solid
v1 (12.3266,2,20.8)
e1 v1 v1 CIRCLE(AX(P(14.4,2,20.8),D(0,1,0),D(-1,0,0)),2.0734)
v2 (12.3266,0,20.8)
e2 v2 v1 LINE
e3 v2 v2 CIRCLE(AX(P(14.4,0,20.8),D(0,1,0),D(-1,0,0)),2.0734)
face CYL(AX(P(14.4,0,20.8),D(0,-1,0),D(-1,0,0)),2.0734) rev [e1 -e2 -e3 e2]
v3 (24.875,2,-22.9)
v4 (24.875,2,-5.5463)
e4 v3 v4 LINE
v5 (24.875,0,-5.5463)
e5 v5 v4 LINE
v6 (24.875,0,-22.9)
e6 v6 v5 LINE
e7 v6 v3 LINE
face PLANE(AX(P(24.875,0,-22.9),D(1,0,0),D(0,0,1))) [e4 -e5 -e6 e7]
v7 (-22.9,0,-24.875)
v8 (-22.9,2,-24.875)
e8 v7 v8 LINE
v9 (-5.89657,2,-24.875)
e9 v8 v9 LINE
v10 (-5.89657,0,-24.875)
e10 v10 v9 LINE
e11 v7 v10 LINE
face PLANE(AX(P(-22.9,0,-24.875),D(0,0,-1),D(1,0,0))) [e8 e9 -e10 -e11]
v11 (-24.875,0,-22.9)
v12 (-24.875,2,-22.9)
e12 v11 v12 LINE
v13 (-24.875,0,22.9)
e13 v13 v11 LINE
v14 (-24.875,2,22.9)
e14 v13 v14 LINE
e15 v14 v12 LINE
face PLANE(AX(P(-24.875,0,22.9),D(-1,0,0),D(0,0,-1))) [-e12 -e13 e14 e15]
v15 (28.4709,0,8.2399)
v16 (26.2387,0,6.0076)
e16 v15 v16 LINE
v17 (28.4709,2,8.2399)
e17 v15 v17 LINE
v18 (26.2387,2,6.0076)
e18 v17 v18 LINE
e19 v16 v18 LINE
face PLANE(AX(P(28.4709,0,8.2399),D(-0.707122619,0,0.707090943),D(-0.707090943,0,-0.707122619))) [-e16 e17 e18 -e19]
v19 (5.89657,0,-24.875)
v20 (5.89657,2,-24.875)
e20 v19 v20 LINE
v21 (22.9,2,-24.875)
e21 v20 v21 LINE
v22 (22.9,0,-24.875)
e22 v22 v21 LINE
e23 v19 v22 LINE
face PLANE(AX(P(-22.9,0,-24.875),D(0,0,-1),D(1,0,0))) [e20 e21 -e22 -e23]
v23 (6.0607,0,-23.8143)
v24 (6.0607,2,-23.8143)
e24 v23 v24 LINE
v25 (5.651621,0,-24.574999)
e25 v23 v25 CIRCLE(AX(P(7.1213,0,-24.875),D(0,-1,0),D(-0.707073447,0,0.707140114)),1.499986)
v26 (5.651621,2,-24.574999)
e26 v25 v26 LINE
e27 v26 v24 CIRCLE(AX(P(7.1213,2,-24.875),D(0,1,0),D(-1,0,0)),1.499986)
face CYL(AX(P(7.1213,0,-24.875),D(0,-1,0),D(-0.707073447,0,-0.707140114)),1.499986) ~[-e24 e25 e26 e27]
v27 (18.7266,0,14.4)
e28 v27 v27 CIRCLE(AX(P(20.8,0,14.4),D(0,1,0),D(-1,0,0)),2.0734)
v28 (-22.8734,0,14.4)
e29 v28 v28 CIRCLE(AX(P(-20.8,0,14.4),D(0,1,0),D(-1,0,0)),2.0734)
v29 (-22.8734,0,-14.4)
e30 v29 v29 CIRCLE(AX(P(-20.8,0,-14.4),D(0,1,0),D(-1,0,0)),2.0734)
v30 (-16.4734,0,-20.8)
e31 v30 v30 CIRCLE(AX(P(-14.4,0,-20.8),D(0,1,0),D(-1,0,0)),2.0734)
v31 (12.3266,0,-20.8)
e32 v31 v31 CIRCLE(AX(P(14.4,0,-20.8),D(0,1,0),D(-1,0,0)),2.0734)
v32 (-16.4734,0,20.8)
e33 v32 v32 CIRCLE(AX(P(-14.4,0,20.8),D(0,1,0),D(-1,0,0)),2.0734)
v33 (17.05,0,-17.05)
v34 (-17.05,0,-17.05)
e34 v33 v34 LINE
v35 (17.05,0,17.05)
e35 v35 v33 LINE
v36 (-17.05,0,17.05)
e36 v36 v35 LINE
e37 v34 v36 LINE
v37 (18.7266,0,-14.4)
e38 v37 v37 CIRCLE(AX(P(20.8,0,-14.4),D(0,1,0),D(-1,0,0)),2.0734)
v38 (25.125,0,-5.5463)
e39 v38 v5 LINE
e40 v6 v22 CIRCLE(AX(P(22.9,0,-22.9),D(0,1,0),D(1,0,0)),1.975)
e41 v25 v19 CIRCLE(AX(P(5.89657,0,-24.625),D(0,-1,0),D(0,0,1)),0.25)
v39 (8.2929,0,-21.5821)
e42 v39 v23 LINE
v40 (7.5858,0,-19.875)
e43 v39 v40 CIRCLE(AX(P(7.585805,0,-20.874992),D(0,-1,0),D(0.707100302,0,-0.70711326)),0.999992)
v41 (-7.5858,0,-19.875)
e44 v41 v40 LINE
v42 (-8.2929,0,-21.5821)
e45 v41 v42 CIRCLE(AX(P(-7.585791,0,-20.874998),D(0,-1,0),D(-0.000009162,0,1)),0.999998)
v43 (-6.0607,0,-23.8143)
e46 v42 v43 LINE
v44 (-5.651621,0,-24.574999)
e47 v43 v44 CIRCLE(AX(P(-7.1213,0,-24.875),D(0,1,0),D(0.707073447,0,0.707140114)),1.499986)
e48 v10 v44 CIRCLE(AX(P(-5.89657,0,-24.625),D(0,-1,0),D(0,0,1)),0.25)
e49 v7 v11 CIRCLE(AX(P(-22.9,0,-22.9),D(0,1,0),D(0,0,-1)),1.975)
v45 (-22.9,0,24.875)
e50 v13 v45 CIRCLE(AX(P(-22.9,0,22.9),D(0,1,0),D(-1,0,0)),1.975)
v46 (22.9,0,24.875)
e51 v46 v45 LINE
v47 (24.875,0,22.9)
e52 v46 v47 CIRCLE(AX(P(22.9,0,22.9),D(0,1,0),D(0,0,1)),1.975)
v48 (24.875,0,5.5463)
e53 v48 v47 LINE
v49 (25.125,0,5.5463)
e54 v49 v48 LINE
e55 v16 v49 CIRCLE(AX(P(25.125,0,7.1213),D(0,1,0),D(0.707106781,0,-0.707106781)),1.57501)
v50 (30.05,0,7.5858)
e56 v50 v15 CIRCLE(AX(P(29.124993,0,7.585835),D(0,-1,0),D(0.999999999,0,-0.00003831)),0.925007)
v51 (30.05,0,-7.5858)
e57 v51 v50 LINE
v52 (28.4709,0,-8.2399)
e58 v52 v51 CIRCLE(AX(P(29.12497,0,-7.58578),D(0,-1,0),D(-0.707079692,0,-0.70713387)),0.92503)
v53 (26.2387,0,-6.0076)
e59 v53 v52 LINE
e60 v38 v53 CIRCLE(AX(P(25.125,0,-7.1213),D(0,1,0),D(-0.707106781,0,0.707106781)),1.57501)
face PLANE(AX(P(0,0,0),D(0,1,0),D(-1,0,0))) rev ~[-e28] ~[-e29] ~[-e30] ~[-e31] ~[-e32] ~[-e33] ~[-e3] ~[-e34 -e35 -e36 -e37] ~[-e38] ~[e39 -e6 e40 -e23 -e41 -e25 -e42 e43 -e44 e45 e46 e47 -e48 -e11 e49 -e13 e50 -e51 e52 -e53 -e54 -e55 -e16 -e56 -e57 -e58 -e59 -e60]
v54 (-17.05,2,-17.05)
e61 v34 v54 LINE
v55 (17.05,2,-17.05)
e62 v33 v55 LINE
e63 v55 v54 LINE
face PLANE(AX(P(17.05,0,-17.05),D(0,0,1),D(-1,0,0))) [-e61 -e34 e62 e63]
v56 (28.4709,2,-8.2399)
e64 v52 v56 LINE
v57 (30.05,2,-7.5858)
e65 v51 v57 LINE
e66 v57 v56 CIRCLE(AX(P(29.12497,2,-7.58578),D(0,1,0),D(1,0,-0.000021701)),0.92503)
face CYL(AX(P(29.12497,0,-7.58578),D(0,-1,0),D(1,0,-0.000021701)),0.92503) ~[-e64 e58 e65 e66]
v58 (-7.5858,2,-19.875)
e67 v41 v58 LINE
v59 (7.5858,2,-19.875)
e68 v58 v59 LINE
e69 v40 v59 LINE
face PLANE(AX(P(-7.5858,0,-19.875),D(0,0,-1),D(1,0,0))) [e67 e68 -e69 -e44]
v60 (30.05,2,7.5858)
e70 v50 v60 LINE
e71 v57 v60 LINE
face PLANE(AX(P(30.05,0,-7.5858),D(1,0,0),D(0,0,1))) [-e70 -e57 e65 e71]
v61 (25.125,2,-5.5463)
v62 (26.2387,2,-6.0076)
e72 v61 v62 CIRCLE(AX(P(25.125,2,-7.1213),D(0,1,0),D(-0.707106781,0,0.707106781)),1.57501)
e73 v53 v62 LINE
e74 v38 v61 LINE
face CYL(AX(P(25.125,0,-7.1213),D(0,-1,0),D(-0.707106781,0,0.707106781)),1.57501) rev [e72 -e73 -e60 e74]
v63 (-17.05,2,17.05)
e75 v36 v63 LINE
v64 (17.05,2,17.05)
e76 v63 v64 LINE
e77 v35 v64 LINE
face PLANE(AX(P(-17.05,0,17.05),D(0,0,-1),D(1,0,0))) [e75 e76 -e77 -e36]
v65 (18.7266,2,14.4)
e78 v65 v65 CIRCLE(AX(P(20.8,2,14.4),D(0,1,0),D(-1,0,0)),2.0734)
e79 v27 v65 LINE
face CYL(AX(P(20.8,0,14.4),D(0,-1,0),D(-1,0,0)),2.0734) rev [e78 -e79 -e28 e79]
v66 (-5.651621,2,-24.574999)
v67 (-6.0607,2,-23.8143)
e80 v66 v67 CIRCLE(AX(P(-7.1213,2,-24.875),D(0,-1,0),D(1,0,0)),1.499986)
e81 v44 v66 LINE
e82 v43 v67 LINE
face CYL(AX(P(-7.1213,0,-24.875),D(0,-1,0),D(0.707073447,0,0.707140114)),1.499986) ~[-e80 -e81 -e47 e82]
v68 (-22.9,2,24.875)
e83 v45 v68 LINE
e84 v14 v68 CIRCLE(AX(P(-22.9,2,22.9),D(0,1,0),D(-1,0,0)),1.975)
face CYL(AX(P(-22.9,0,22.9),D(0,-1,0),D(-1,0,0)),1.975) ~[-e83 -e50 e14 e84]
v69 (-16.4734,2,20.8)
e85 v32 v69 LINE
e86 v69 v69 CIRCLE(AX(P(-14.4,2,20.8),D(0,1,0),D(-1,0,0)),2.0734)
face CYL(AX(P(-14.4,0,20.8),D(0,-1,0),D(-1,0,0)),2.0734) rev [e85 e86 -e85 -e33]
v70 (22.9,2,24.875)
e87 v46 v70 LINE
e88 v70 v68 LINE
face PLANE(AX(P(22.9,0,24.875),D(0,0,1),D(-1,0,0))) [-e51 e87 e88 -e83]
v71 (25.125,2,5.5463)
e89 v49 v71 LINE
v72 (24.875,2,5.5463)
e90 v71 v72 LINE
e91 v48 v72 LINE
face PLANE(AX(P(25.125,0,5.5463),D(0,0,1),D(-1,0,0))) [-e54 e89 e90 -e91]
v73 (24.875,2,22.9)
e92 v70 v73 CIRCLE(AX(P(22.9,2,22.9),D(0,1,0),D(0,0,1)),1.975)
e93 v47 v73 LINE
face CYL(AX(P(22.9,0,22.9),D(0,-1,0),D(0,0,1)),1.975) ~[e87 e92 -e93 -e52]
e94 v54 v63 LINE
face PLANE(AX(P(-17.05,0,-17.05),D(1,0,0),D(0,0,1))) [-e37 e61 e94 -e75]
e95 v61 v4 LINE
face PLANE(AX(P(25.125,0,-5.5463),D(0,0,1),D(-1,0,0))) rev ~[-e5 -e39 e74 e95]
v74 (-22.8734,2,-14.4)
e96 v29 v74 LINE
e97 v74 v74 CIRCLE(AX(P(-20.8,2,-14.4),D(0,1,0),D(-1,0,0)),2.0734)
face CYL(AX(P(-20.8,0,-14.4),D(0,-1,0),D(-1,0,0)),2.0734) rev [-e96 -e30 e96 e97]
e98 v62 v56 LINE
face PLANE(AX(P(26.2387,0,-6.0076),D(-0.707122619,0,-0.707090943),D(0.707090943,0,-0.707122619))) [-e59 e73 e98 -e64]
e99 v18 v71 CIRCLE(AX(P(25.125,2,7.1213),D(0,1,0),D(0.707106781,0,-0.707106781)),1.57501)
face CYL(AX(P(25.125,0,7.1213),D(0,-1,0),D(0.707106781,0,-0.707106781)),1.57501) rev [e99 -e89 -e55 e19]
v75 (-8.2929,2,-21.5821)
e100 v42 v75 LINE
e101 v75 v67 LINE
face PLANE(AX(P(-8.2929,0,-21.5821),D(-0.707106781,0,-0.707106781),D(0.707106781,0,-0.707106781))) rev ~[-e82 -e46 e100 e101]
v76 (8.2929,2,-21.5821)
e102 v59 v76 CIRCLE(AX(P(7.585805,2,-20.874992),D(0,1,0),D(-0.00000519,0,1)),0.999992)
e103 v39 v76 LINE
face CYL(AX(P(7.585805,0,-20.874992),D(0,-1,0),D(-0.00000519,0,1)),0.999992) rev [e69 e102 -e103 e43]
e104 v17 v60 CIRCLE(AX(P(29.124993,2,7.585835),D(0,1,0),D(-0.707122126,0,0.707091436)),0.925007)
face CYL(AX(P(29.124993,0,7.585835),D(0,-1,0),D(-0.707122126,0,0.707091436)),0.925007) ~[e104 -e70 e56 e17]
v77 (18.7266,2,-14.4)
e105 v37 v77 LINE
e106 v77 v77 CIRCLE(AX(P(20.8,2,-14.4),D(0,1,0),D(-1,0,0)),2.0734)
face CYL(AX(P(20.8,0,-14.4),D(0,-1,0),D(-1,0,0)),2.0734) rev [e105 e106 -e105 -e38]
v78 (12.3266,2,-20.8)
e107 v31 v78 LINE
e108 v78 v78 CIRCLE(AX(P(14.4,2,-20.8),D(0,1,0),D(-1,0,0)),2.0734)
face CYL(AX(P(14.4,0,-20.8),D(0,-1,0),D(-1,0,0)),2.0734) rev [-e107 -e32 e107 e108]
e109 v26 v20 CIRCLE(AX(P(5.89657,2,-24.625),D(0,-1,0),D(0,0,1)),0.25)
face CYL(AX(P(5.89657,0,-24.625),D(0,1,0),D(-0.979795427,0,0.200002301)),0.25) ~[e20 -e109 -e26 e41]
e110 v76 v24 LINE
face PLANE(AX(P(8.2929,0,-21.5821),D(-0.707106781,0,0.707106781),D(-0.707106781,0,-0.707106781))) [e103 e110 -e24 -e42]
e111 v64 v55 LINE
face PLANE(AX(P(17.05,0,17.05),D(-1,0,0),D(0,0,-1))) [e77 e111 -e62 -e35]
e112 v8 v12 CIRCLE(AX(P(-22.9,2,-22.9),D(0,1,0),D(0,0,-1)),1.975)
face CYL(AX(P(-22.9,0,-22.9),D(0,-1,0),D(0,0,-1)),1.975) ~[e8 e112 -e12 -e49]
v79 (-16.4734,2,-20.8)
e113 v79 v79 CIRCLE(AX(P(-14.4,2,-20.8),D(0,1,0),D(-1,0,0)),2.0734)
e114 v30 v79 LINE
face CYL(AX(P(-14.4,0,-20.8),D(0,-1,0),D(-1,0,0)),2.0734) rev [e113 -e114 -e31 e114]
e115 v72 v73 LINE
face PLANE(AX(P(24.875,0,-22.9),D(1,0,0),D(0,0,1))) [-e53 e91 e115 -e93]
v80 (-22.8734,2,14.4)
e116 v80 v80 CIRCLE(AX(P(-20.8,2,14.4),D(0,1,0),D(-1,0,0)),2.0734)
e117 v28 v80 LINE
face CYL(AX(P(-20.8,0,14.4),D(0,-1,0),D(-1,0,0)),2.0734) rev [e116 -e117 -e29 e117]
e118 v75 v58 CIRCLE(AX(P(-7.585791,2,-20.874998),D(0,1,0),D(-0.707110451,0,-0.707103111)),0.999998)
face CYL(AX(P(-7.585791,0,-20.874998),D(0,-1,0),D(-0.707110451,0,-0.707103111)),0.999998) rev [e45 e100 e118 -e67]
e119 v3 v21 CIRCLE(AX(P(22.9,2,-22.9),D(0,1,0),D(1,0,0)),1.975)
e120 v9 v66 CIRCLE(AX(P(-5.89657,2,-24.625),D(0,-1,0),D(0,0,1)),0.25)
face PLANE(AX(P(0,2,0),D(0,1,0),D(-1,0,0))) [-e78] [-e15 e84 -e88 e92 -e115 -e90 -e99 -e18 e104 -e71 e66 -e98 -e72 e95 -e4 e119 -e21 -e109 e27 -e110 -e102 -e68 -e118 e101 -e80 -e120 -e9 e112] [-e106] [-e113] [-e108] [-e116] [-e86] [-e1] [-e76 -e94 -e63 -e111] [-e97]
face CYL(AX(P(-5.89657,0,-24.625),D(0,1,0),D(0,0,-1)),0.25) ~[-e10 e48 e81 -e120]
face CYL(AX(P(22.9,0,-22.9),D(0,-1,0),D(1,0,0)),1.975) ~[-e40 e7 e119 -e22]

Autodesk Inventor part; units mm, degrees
ref_plane "YZ Plane" through (0, 0, 0) normal (1, 0, 0) x (0, 1, 0)
ref_plane "XZ Plane" through (0, 0, 0) normal (0, 1, 0) x (-1, 0, 0)
ref_plane "XY Plane" through (0, 0, 0) normal (0, 0, 1) x (1, 0, 0)
sketch "Sketch1" plane through (0, 0, 0) normal (0, 1, 0) x (-1, 0, 0)
  circle A0 centre (-21.9, -21.9) radius 1.875 projected
  circle A1 centre (21.9, 21.9) radius 1.875 projected
  circle A2 centre (21.9, -21.9) radius 1.875 projected
  circle A3 centre (-21.9, 21.9) radius 1.875 projected
  circle A4 centre (14.4, 20.8) radius 2.0734 projected
  circle A5 centre (-14.4, -20.8) radius 2.0734 projected
  circle A6 centre (14.4, -20.8) radius 2.0734 projected
  circle A7 centre (20.8, -14.4) radius 2.0734 projected
  line L0 (-17.05, 17.05) -> (-17.05, -17.05) projected
  line L1 (17.05, 17.05) -> (-17.05, 17.05) projected
  line L2 (17.05, -17.05) -> (17.05, 17.05) projected
  line L3 (-17.05, -17.05) -> (17.05, -17.05) projected
  circle A8 centre (20.8, 14.4) radius 2.0734 projected
  circle A9 centre (-14.4, 20.8) radius 2.0734 projected
  circle A10 centre (-20.8, -14.4) radius 2.0734 projected
  circle A11 centre (-20.8, 14.4) radius 2.0734 projected
  line L4 (-22.9, 24.875) -> (22.9, 24.875) projected
  arc A12 (-22.9, 24.875) -> (-24.875, 22.9) centre (-22.9, 22.9) ccw projected
  line L5 (-24.875, -22.9) -> (-24.875, 22.9) projected
  arc A13 (-24.875, -22.9) -> (-22.9, -24.875) centre (-22.9, -22.9) ccw projected
  line L6 (22.9, -24.875) -> (-22.9, -24.875) projected
  arc A14 (22.9, -24.875) -> (24.875, -22.9) centre (22.9, -22.9) ccw projected
  line L7 (24.875, 22.9) -> (24.875, -22.9) projected
  arc A15 (24.875, 22.9) -> (22.9, 24.875) centre (22.9, 22.9) ccw projected
  arc A16 (24.9, 22.9) -> (22.9, 24.9) centre (22.9, 22.9) ccw projected
  line L8 (22.9, 24.9) -> (-22.9, 24.9) projected
  arc A17 (-22.9, 24.9) -> (-24.9, 22.9) centre (-22.9, 22.9) ccw projected
  line L9 (-24.9, 22.9) -> (-24.9, -22.9) projected
  arc A18 (-24.9, -22.9) -> (-22.9, -24.9) centre (-22.9, -22.9) ccw projected
  line L10 (-22.9, -24.9) -> (22.9, -24.9) projected
  arc A19 (22.9, -24.9) -> (24.9, -22.9) centre (22.9, -22.9) ccw projected
  line L11 (24.9, -22.9) -> (24.9, 22.9) projected
  point P0 (0, 0)
extrude "Extrusion1" add sketch "Sketch1" along normal blind 2 contours A0 | A1 | A2 | A3 | L4 A15 L7 A14 L6 A13 L5 A12
sketch "Sketch2" plane through (0, 0, 0) normal (0, 1, 0) x (-1, 0, 0)
  line L0 (-7.5858, -29.875) -> (7.5858, -29.875)
  line L1 (10, -29.875) -> (10, -19.875)
  line L2 (7.5858, -19.875) -> (-7.5858, -19.875)
  line L3 (-10, -19.875) -> (-10, -29.875)
  line L4 (-10, -29.875) -> (10, -19.875) construction
  line L5 (10, -29.875) -> (-10, -19.875) construction
  line L6 (-8.2929, -21.5821) -> (-6.0607, -23.8143)
  line L7 (-10, -19.875) -> (-6.8431, -19.875) construction
  line L8 (8.2929, -21.5821) -> (6.0607, -23.8143)
  line L9 (-8.2929, -28.1679) -> (-6.0607, -25.9357)
  line L10 (8.2929, -28.1679) -> (6.0607, -25.9357)
  arc A0 (-8.2929, -28.1679) -> (-7.5858, -29.875) centre (-7.5858, -28.875) ccw
  arc A1 (7.5858, -29.875) -> (8.2929, -28.1679) centre (7.5858, -28.875) ccw
  arc A2 (-6.0607, -25.9357) -> (-6.0607, -23.8143) centre (-7.1213, -24.875) ccw
  arc A3 (6.0607, -23.8143) -> (6.0607, -25.9357) centre (7.1213, -24.875) ccw
  arc A4 (-7.5858, -19.875) -> (-8.2929, -21.5821) centre (-7.5858, -20.875) ccw
  arc A5 (8.2929, -21.5821) -> (7.5858, -19.875) centre (7.5858, -20.875) ccw
  line L11 (-7.5858, -19.95) -> (7.5858, -19.95)
  arc A6 (8.2399, -21.5291) -> (7.5858, -19.95) centre (7.5858, -20.875) ccw
  line L12 (8.2399, -21.5291) -> (6.0076, -23.7613)
  arc A7 (6.0076, -23.7613) -> (6.0076, -25.9887) centre (7.1213, -24.875) ccw
  line L13 (6.0076, -25.9887) -> (8.2399, -28.2209)
  arc A8 (7.5858, -29.8) -> (8.2399, -28.2209) centre (7.5858, -28.875) ccw
  line L14 (7.5858, -29.8) -> (-7.5858, -29.8)
  arc A9 (-8.2399, -28.2209) -> (-7.5858, -29.8) centre (-7.5858, -28.875) ccw
  line L15 (-8.2399, -28.2209) -> (-6.0076, -25.9887)
  arc A10 (-6.0076, -25.9887) -> (-6.0076, -23.7613) centre (-7.1213, -24.875) ccw
  line L16 (-6.0076, -23.7613) -> (-8.2399, -21.5291)
  arc A11 (-7.5858, -19.95) -> (-8.2399, -21.5291) centre (-7.5858, -20.875) ccw
  line L17 (-8.2399, 21.7791) -> (-6.0076, 24.0113)
  line L18 (-7.5858, 30.05) -> (7.5858, 30.05)
  line L19 (7.5858, 20.2) -> (-7.5858, 20.2)
  line L20 (-7.5858, 20.125) -> (7.5858, 20.125)
  line L21 (7.5858, 30.125) -> (-7.5858, 30.125)
  line L22 (10, 20.125) -> (-10, 30.125) construction
  line L23 (-10, 20.125) -> (10, 30.125) construction
  arc A12 (-6.0076, 24.0113) -> (-6.0076, 26.2387) centre (-7.1213, 25.125) ccw
  arc A13 (-6.0607, 24.0643) -> (-6.0607, 26.1857) centre (-7.1213, 25.125) ccw
  arc A14 (-7.5858, 30.05) -> (-8.2399, 28.4709) centre (-7.5858, 29.125) ccw
  arc A15 (-7.5858, 30.125) -> (-8.2929, 28.4179) centre (-7.5858, 29.125) ccw
  line L24 (-8.2929, 28.4179) -> (-6.0607, 26.1857)
  line L25 (-10, 30.125) -> (-6.8431, 30.125) construction
  line L26 (-10, 30.125) -> (-10, 20.125)
  arc A16 (-8.2399, 21.7791) -> (-7.5858, 20.2) centre (-7.5858, 21.125) ccw
  arc A17 (-8.2929, 21.8321) -> (-7.5858, 20.125) centre (-7.5858, 21.125) ccw
  line L27 (-8.2929, 21.8321) -> (-6.0607, 24.0643)
  line L28 (-6.0076, 26.2387) -> (-8.2399, 28.4709)
  line L29 (10, 20.125) -> (10, 30.125)
  line L30 (8.2929, 28.4179) -> (6.0607, 26.1857)
  line L31 (8.2929, 21.8321) -> (6.0607, 24.0643)
  arc A18 (7.5858, 20.125) -> (8.2929, 21.8321) centre (7.5858, 21.125) ccw
  arc A19 (6.0076, 26.2387) -> (6.0076, 24.0113) centre (7.1213, 25.125) ccw
  arc A20 (6.0607, 26.1857) -> (6.0607, 24.0643) centre (7.1213, 25.125) ccw
  arc A21 (7.5858, 20.2) -> (8.2399, 21.7791) centre (7.5858, 21.125) ccw
  line L32 (6.0076, 24.0113) -> (8.2399, 21.7791)
  line L33 (8.2399, 28.4709) -> (6.0076, 26.2387)
  arc A22 (8.2929, 28.4179) -> (7.5858, 30.125) centre (7.5858, 29.125) ccw
  arc A23 (8.2399, 28.4709) -> (7.5858, 30.05) centre (7.5858, 29.125) ccw
  line L34 (0, 24.875) -> (0, 25.125)
  line L35 (-22.9, -24.875) -> (22.9, -24.875) projected
  line L36 (22.9, 24.875) -> (-22.9, 24.875) projected
  line L37 (0, -24.875) -> (0, -24.875)
  line L38 (5.6213, 25.125) -> (5.5463, 25.125)
  line L39 (5.5463, 25.125) -> (5.5463, 24.875)
  line L40 (5.5463, 24.875) -> (5.6213, 24.875)
  line L41 (5.6213, 24.875) -> (5.6213, 25.125)
  line L42 (-5.6213, 25.125) -> (-5.5463, 25.125)
  line L43 (-5.5463, 25.125) -> (-5.5463, 24.875)
  line L44 (-5.5463, 24.875) -> (-5.6213, 24.875)
  line L45 (-5.6213, 24.875) -> (-5.6213, 25.125)
  line L46 (-5.6213, -24.875) -> (-5.5463, -24.875)
  line L47 (-5.5463, -24.875) -> (-5.5463, -24.875)
  line L48 (-5.5463, -24.875) -> (-5.6213, -24.875)
  line L49 (-5.6213, -24.875) -> (-5.6213, -24.875)
  line L50 (5.6213, -24.875) -> (5.5463, -24.875)
  line L51 (5.5463, -24.875) -> (5.5463, -24.875)
  line L52 (5.5463, -24.875) -> (5.6213, -24.875)
  line L53 (5.6213, -24.875) -> (5.6213, -24.875)
  arc A24 (19.95, -7.5858) -> (21.5291, -8.2399) centre (20.875, -7.5858) ccw
  arc A25 (19.875, -7.5858) -> (21.5821, -8.2929) centre (20.875, -7.5858) ccw
  line L54 (21.5821, -8.2929) -> (23.8143, -6.0607)
  line L55 (23.7613, -6.0076) -> (21.5291, -8.2399)
  arc A26 (25.9357, -6.0607) -> (23.8143, -6.0607) centre (24.875, -7.1213) ccw
  arc A27 (25.9887, -6.0076) -> (23.7613, -6.0076) centre (24.875, -7.1213) ccw
  line L56 (29.875, -7.5858) -> (29.875, 7.5858)
  line L57 (29.8, 7.5858) -> (29.8, -7.5858)
  line L58 (19.95, -7.5858) -> (19.95, 7.5858)
  line L59 (19.875, 7.5858) -> (19.875, -7.5858)
  line L60 (28.2209, -8.2399) -> (25.9887, -6.0076)
  line L61 (21.5821, 8.2929) -> (23.8143, 6.0607)
  line L62 (28.1679, 8.2929) -> (25.9357, 6.0607)
  arc A28 (29.875, 7.5858) -> (28.1679, 8.2929) centre (28.875, 7.5858) ccw
  arc A29 (23.7613, 6.0076) -> (25.9887, 6.0076) centre (24.875, 7.1213) ccw
  line L63 (24.875, 5.5463) -> (24.875, 5.5463)
  line L64 (24.875, 5.6213) -> (24.875, 5.5463)
  line L65 (24.875, 5.5463) -> (24.875, 5.6213)
  line L66 (24.875, 5.6213) -> (24.875, 5.6213)
  arc A30 (23.8143, 6.0607) -> (25.9357, 6.0607) centre (24.875, 7.1213) ccw
  line L67 (25.9887, 6.0076) -> (28.2209, 8.2399)
  arc A31 (29.8, 7.5858) -> (28.2209, 8.2399) centre (28.875, 7.5858) ccw
  line L68 (21.5291, 8.2399) -> (23.7613, 6.0076)
  arc A32 (21.5291, 8.2399) -> (19.95, 7.5858) centre (20.875, 7.5858) ccw
  arc A33 (21.5821, 8.2929) -> (19.875, 7.5858) centre (20.875, 7.5858) ccw
  line L69 (24.875, -5.5463) -> (24.875, -5.5463)
  line L70 (24.875, -5.5463) -> (24.875, -5.6213)
  line L71 (24.875, -5.6213) -> (24.875, -5.5463)
  line L72 (24.875, -5.6213) -> (24.875, -5.6213)
  line L73 (24.875, 0) -> (24.875, 0)
  line L74 (28.1679, -8.2929) -> (25.9357, -6.0607)
  arc A34 (28.1679, -8.2929) -> (29.875, -7.5858) centre (28.875, -7.5858) ccw
  arc A35 (28.2209, -8.2399) -> (29.8, -7.5858) centre (28.875, -7.5858) ccw
  line L75 (-25.125, 5.6213) -> (-25.125, 5.5463)
  arc A36 (-28.4709, 8.2399) -> (-30.05, 7.5858) centre (-29.125, 7.5858) ccw
  arc A37 (-28.4179, 8.2929) -> (-30.125, 7.5858) centre (-29.125, 7.5858) ccw
  line L76 (-28.4179, 8.2929) -> (-26.1857, 6.0607)
  line L77 (-24.875, 5.5463) -> (-24.875, 5.6213)
  arc A38 (-26.2387, 6.0076) -> (-24.0113, 6.0076) centre (-25.125, 7.1213) ccw
  line L78 (-21.8321, 8.2929) -> (-24.0643, 6.0607)
  line L79 (-24.875, 0) -> (-25.125, 0)
  arc A39 (-20.2, 7.5858) -> (-21.7791, 8.2399) centre (-21.125, 7.5858) ccw
  arc A40 (-20.125, 7.5858) -> (-21.8321, 8.2929) centre (-21.125, 7.5858) ccw
  line L80 (-30.05, -7.5858) -> (-30.05, 7.5858)
  line L81 (-30.125, 7.5858) -> (-30.125, -7.5858)
  line L82 (-20.2, 7.5858) -> (-20.2, -7.5858)
  line L83 (-20.125, -7.5858) -> (-20.125, 7.5858)
  line L84 (-24.875, 5.6213) -> (-25.125, 5.6213)
  arc A41 (-26.1857, 6.0607) -> (-24.0643, 6.0607) centre (-25.125, 7.1213) ccw
  line L85 (-24.0113, 6.0076) -> (-21.7791, 8.2399)
  line L86 (-25.125, 5.5463) -> (-24.875, 5.5463)
  line L87 (-28.4709, 8.2399) -> (-26.2387, 6.0076)
  line L88 (-25.125, -5.5463) -> (-24.875, -5.5463)
  line L89 (-24.875, -5.5463) -> (-24.875, -5.6213)
  line L90 (-24.875, -5.6213) -> (-25.125, -5.6213)
  line L91 (-25.125, -5.6213) -> (-25.125, -5.5463)
  arc A42 (-30.05, -7.5858) -> (-28.4709, -8.2399) centre (-29.125, -7.5858) ccw
  arc A43 (-21.8321, -8.2929) -> (-20.125, -7.5858) centre (-21.125, -7.5858) ccw
  arc A44 (-21.7791, -8.2399) -> (-20.2, -7.5858) centre (-21.125, -7.5858) ccw
  arc A45 (-24.0113, -6.0076) -> (-26.2387, -6.0076) centre (-25.125, -7.1213) ccw
  arc A46 (-24.0643, -6.0607) -> (-26.1857, -6.0607) centre (-25.125, -7.1213) ccw
  line L92 (-21.7791, -8.2399) -> (-24.0113, -6.0076)
  line L93 (-21.8321, -8.2929) -> (-24.0643, -6.0607)
  line L94 (-28.4179, -8.2929) -> (-26.1857, -6.0607)
  line L95 (-26.2387, -6.0076) -> (-28.4709, -8.2399)
  arc A47 (-30.125, -7.5858) -> (-28.4179, -8.2929) centre (-29.125, -7.5858) ccw
  arc A48 (7.5858, 19.95) -> (8.2399, 21.5291) centre (7.5858, 20.875) ccw
  arc A49 (7.5858, 19.875) -> (8.2929, 21.5821) centre (7.5858, 20.875) ccw
  line L96 (8.2929, 21.5821) -> (6.0607, 23.8143)
  line L97 (6.0076, 23.7613) -> (8.2399, 21.5291)
  arc A50 (6.0607, 25.9357) -> (6.0607, 23.8143) centre (7.1213, 24.875) ccw
  arc A51 (6.0076, 25.9887) -> (6.0076, 23.7613) centre (7.1213, 24.875) ccw
  line L98 (7.5858, 29.875) -> (-7.5858, 29.875)
  line L99 (-7.5858, 29.8) -> (7.5858, 29.8)
  line L100 (7.5858, 19.95) -> (-7.5858, 19.95)
  line L101 (-7.5858, 19.875) -> (7.5858, 19.875)
  line L102 (8.2399, 28.2209) -> (6.0076, 25.9887)
  line L103 (-8.2929, 21.5821) -> (-6.0607, 23.8143)
  line L104 (-8.2929, 28.1679) -> (-6.0607, 25.9357)
  arc A52 (-7.5858, 29.875) -> (-8.2929, 28.1679) centre (-7.5858, 28.875) ccw
  arc A53 (-6.0076, 23.7613) -> (-6.0076, 25.9887) centre (-7.1213, 24.875) ccw
  line L105 (-5.5463, 24.875) -> (-5.5463, 24.875)
  line L106 (-5.6213, 24.875) -> (-5.5463, 24.875)
  line L107 (-5.5463, 24.875) -> (-5.6213, 24.875)
  line L108 (-5.6213, 24.875) -> (-5.6213, 24.875)
  arc A54 (-6.0607, 23.8143) -> (-6.0607, 25.9357) centre (-7.1213, 24.875) ccw
  line L109 (-6.0076, 25.9887) -> (-8.2399, 28.2209)
  arc A55 (-7.5858, 29.8) -> (-8.2399, 28.2209) centre (-7.5858, 28.875) ccw
  line L110 (-8.2399, 21.5291) -> (-6.0076, 23.7613)
  arc A56 (-8.2399, 21.5291) -> (-7.5858, 19.95) centre (-7.5858, 20.875) ccw
  arc A57 (-8.2929, 21.5821) -> (-7.5858, 19.875) centre (-7.5858, 20.875) ccw
  line L111 (5.5463, 24.875) -> (5.5463, 24.875)
  line L112 (5.5463, 24.875) -> (5.6213, 24.875)
  line L113 (5.6213, 24.875) -> (5.5463, 24.875)
  line L114 (5.6213, 24.875) -> (5.6213, 24.875)
  line L115 (0, 24.875) -> (0, 24.875)
  line L116 (8.2929, 28.1679) -> (6.0607, 25.9357)
  arc A58 (8.2929, 28.1679) -> (7.5858, 29.875) centre (7.5858, 28.875) ccw
  arc A59 (8.2399, 28.2209) -> (7.5858, 29.8) centre (7.5858, 28.875) ccw
  line L117 (-5.6213, -25.125) -> (-5.5463, -25.125)
  arc A60 (-8.2399, -28.4709) -> (-7.5858, -30.05) centre (-7.5858, -29.125) ccw
  arc A61 (-8.2929, -28.4179) -> (-7.5858, -30.125) centre (-7.5858, -29.125) ccw
  line L118 (-8.2929, -28.4179) -> (-6.0607, -26.1857)
  line L119 (-5.5463, -24.875) -> (-5.6213, -24.875)
  arc A62 (-6.0076, -26.2387) -> (-6.0076, -24.0113) centre (-7.1213, -25.125) ccw
  line L120 (-8.2929, -21.8321) -> (-6.0607, -24.0643)
  line L121 (0, -24.875) -> (0, -25.125)
  arc A63 (-7.5858, -20.2) -> (-8.2399, -21.7791) centre (-7.5858, -21.125) ccw
  arc A64 (-7.5858, -20.125) -> (-8.2929, -21.8321) centre (-7.5858, -21.125) ccw
  line L122 (7.5858, -30.05) -> (-7.5858, -30.05)
  line L123 (-7.5858, -30.125) -> (7.5858, -30.125)
  line L124 (-7.5858, -20.2) -> (7.5858, -20.2)
  line L125 (7.5858, -20.125) -> (-7.5858, -20.125)
  line L126 (-5.6213, -24.875) -> (-5.6213, -25.125)
  arc A65 (-6.0607, -26.1857) -> (-6.0607, -24.0643) centre (-7.1213, -25.125) ccw
  line L127 (-6.0076, -24.0113) -> (-8.2399, -21.7791)
  line L128 (-5.5463, -25.125) -> (-5.5463, -24.875)
  line L129 (-8.2399, -28.4709) -> (-6.0076, -26.2387)
  line L130 (5.5463, -25.125) -> (5.5463, -24.875)
  line L131 (5.5463, -24.875) -> (5.6213, -24.875)
  line L132 (5.6213, -24.875) -> (5.6213, -25.125)
  line L133 (5.6213, -25.125) -> (5.5463, -25.125)
  arc A66 (7.5858, -30.05) -> (8.2399, -28.4709) centre (7.5858, -29.125) ccw
  arc A67 (8.2929, -21.8321) -> (7.5858, -20.125) centre (7.5858, -21.125) ccw
  arc A68 (8.2399, -21.7791) -> (7.5858, -20.2) centre (7.5858, -21.125) ccw
  arc A69 (6.0076, -24.0113) -> (6.0076, -26.2387) centre (7.1213, -25.125) ccw
  arc A70 (6.0607, -24.0643) -> (6.0607, -26.1857) centre (7.1213, -25.125) ccw
  line L134 (8.2399, -21.7791) -> (6.0076, -24.0113)
  line L135 (8.2929, -21.8321) -> (6.0607, -24.0643)
  line L136 (8.2929, -28.4179) -> (6.0607, -26.1857)
  line L137 (6.0076, -26.2387) -> (8.2399, -28.4709)
  arc A71 (7.5858, -30.125) -> (8.2929, -28.4179) centre (7.5858, -29.125) ccw
  arc A72 (-19.95, 7.5858) -> (-21.5291, 8.2399) centre (-20.875, 7.5858) ccw
  arc A73 (-19.875, 7.5858) -> (-21.5821, 8.2929) centre (-20.875, 7.5858) ccw
  line L138 (-21.5821, 8.2929) -> (-23.8143, 6.0607)
  line L139 (-23.7613, 6.0076) -> (-21.5291, 8.2399)
  arc A74 (-25.9357, 6.0607) -> (-23.8143, 6.0607) centre (-24.875, 7.1213) ccw
  arc A75 (-25.9887, 6.0076) -> (-23.7613, 6.0076) centre (-24.875, 7.1213) ccw
  line L140 (-29.875, 7.5858) -> (-29.875, -7.5858)
  line L141 (-29.8, -7.5858) -> (-29.8, 7.5858)
  line L142 (-19.95, 7.5858) -> (-19.95, -7.5858)
  line L143 (-19.875, -7.5858) -> (-19.875, 7.5858)
  line L144 (-28.2209, 8.2399) -> (-25.9887, 6.0076)
  line L145 (-21.5821, -8.2929) -> (-23.8143, -6.0607)
  line L146 (-28.1679, -8.2929) -> (-25.9357, -6.0607)
  arc A76 (-29.875, -7.5858) -> (-28.1679, -8.2929) centre (-28.875, -7.5858) ccw
  arc A77 (-23.7613, -6.0076) -> (-25.9887, -6.0076) centre (-24.875, -7.1213) ccw
  line L147 (-24.875, -5.5463) -> (-24.875, -5.5463)
  line L148 (-24.875, -5.6213) -> (-24.875, -5.5463)
  line L149 (-24.875, -5.5463) -> (-24.875, -5.6213)
  line L150 (-24.875, -5.6213) -> (-24.875, -5.6213)
  arc A78 (-23.8143, -6.0607) -> (-25.9357, -6.0607) centre (-24.875, -7.1213) ccw
  line L151 (-25.9887, -6.0076) -> (-28.2209, -8.2399)
  arc A79 (-29.8, -7.5858) -> (-28.2209, -8.2399) centre (-28.875, -7.5858) ccw
  line L152 (-21.5291, -8.2399) -> (-23.7613, -6.0076)
  arc A80 (-21.5291, -8.2399) -> (-19.95, -7.5858) centre (-20.875, -7.5858) ccw
  arc A81 (-21.5821, -8.2929) -> (-19.875, -7.5858) centre (-20.875, -7.5858) ccw
  line L153 (-24.875, 5.5463) -> (-24.875, 5.5463)
  line L154 (-24.875, 5.5463) -> (-24.875, 5.6213)
  line L155 (-24.875, 5.6213) -> (-24.875, 5.5463)
  line L156 (-24.875, 5.6213) -> (-24.875, 5.6213)
  line L157 (-24.875, 0) -> (-24.875, 0)
  line L158 (-28.1679, 8.2929) -> (-25.9357, 6.0607)
  arc A82 (-28.1679, 8.2929) -> (-29.875, 7.5858) centre (-28.875, 7.5858) ccw
  arc A83 (-28.2209, 8.2399) -> (-29.8, 7.5858) centre (-28.875, 7.5858) ccw
  line L159 (25.125, -5.6213) -> (25.125, -5.5463)
  arc A84 (28.4709, -8.2399) -> (30.05, -7.5858) centre (29.125, -7.5858) ccw
  arc A85 (28.4179, -8.2929) -> (30.125, -7.5858) centre (29.125, -7.5858) ccw
  line L160 (28.4179, -8.2929) -> (26.1857, -6.0607)
  line L161 (24.875, -5.5463) -> (24.875, -5.6213)
  arc A86 (26.2387, -6.0076) -> (24.0113, -6.0076) centre (25.125, -7.1213) ccw
  line L162 (21.8321, -8.2929) -> (24.0643, -6.0607)
  line L163 (24.875, 0) -> (25.125, 0)
  arc A87 (20.2, -7.5858) -> (21.7791, -8.2399) centre (21.125, -7.5858) ccw
  arc A88 (20.125, -7.5858) -> (21.8321, -8.2929) centre (21.125, -7.5858) ccw
  line L164 (30.05, 7.5858) -> (30.05, -7.5858)
  line L165 (30.125, -7.5858) -> (30.125, 7.5858)
  line L166 (20.2, -7.5858) -> (20.2, 7.5858)
  line L167 (20.125, 7.5858) -> (20.125, -7.5858)
  line L168 (24.875, -5.6213) -> (25.125, -5.6213)
  arc A89 (26.1857, -6.0607) -> (24.0643, -6.0607) centre (25.125, -7.1213) ccw
  line L169 (24.0113, -6.0076) -> (21.7791, -8.2399)
  line L170 (25.125, -5.5463) -> (24.875, -5.5463)
  line L171 (28.4709, -8.2399) -> (26.2387, -6.0076)
  line L172 (25.125, 5.5463) -> (24.875, 5.5463)
  line L173 (24.875, 5.5463) -> (24.875, 5.6213)
  line L174 (24.875, 5.6213) -> (25.125, 5.6213)
  line L175 (25.125, 5.6213) -> (25.125, 5.5463)
  arc A90 (30.05, 7.5858) -> (28.4709, 8.2399) centre (29.125, 7.5858) ccw
  arc A91 (21.8321, 8.2929) -> (20.125, 7.5858) centre (21.125, 7.5858) ccw
  arc A92 (21.7791, 8.2399) -> (20.2, 7.5858) centre (21.125, 7.5858) ccw
  arc A93 (24.0113, 6.0076) -> (26.2387, 6.0076) centre (25.125, 7.1213) ccw
  arc A94 (24.0643, 6.0607) -> (26.1857, 6.0607) centre (25.125, 7.1213) ccw
  line L176 (21.7791, 8.2399) -> (24.0113, 6.0076)
  line L177 (21.8321, 8.2929) -> (24.0643, 6.0607)
  line L178 (28.4179, 8.2929) -> (26.1857, 6.0607)
  line L179 (26.2387, 6.0076) -> (28.4709, 8.2399)
  arc A95 (30.125, 7.5858) -> (28.4179, 8.2929) centre (29.125, 7.5858) ccw
  line L180 (-22.9, -24.875) -> (22.9, -24.875) projected
  arc A96 (22.9, -24.875) -> (24.875, -22.9) centre (22.9, -22.9) ccw projected
  line L181 (24.875, -22.9) -> (24.875, 22.9) projected
  arc A97 (24.875, 22.9) -> (22.9, 24.875) centre (22.9, 22.9) ccw projected
  line L182 (22.9, 24.875) -> (-22.9, 24.875) projected
  arc A98 (-22.9, 24.875) -> (-24.875, 22.9) centre (-22.9, 22.9) ccw projected
  line L183 (-24.875, 22.9) -> (-24.875, -22.9) projected
  arc A99 (-24.875, -22.9) -> (-22.9, -24.875) centre (-22.9, -22.9) ccw projected
  circle A100 centre (-20.8, 14.4) radius 2.0734 projected
  circle A101 centre (-20.8, -14.4) radius 2.0734 projected
  circle A102 centre (-14.4, 20.8) radius 2.0734 projected
  circle A103 centre (20.8, 14.4) radius 2.0734 projected
  circle A104 centre (20.8, -14.4) radius 2.0734 projected
  circle A105 centre (14.4, -20.8) radius 2.0734 projected
  circle A106 centre (-14.4, -20.8) radius 2.0734 projected
  circle A107 centre (14.4, 20.8) radius 2.0734 projected
  line L184 (-17.05, 17.05) -> (17.05, 17.05) projected
  line L185 (17.05, 17.05) -> (17.05, -17.05) projected
  line L186 (17.05, -17.05) -> (-17.05, -17.05) projected
  line L187 (-17.05, -17.05) -> (-17.05, 17.05) projected
  point P0 (0, 0)
  point P1 (19.875, -6.8431)
  point P2 (19.875, -10)
  point P3 (29.875, -10)
  point P4 (29.875, 10)
  point P5 (19.875, 10)
  point P6 (-30.125, 10)
  point P7 (-20.125, 10)
  point P8 (-30.125, -10)
  point P9 (-20.125, -10)
  point P10 (-30.125, -6.8431)
  point P11 (6.8431, 19.875)
  point P12 (10, 19.875)
  point P13 (10, 29.875)
  point P14 (-10, 29.875)
  point P15 (-10, 19.875)
  point P16 (-10, -30.125)
  point P17 (-10, -20.125)
  point P18 (10, -30.125)
  point P19 (10, -20.125)
  point P20 (6.8431, -30.125)
  point P21 (-19.875, 6.8431)
  point P22 (-19.875, 10)
  point P23 (-29.875, 10)
  point P24 (-29.875, -10)
  point P25 (-19.875, -10)
  point P26 (30.125, -10)
  point P27 (20.125, -10)
  point P28 (30.125, 10)
  point P29 (20.125, 10)
  point P30 (30.125, 6.8431)
  point P31 (-21, 8.5023)
  point P32 (-24.625, 5.5463)
  point P33 (-25.125, 5.5463)
  point P34 (-25.125, -5.5463)
  point P35 (-24.625, -5.5463)
  point P36 (-21, -8.5023)
  point P37 (-5.5463, 25.125)
  point P38 (5.5463, 25.125)
  dimension "d19" = 20
  dimension "d20" = 10
  dimension "d21" = 45
  dimension "d22" = 1
  dimension "d23" = 1.5
  dimension "d24" = 1
  dimension "d25" = 0.075
  dimension "d28" = 15.1716
  dimension "d29" = 2.8787
  dimension "d30" = 2.8787
  dimension "d31" = 20
  dimension "d32" = 10
  dimension "d33" = 45
  dimension "d34" = 1
  dimension "d35" = 1.5
  dimension "d36" = 1
  dimension "d37" = 0.075
  dimension "d38" = 15.1716
  dimension "d39" = 2.8787
  dimension "d40" = 2.8787
  dimension "d41" = 0.25
  dimension "d42" = 0
  dimension "d45" = 360
extrude "Extrusion2" add sketch "Sketch2" along normal up to surface (2 mm away) contours L88 A45 L95 A42 A79 L141 A83 A36 L87 A38 L86 L183 | A76 L140 A82 A36 A83 L141 A79 A42 | A42 L80 A36 A82 L140 A76
extrude "Extrusion3" cut sketch "Sketch2" along normal up to surface (2 mm away) contours A2 A62 L35 | L35 A62 A2 L6 A4 A63 A11 L16 A10 | A10 L16 A11 A63 L124 A68 A6 L12 A7 L35 | L35 A69 A3 | A7 L12 A6 A68 A5 L8 A3 A69 L35 | A64 A11 A63 A4 | A4 L2 A5 A67 A6 L11 A11 A64 | A11 A64 L125 A67 A6 A68 L124 A63 | A5 A68 A6 A67 | A11 L11 A6 A67 L125 A64
fillet "Fillet1" radius 0.25 2 edges at (5.6213, 1, -24.875) (-5.6213, 1, -24.875)
properties part number "Interlinking Baseplate Pathed Angle V1"
